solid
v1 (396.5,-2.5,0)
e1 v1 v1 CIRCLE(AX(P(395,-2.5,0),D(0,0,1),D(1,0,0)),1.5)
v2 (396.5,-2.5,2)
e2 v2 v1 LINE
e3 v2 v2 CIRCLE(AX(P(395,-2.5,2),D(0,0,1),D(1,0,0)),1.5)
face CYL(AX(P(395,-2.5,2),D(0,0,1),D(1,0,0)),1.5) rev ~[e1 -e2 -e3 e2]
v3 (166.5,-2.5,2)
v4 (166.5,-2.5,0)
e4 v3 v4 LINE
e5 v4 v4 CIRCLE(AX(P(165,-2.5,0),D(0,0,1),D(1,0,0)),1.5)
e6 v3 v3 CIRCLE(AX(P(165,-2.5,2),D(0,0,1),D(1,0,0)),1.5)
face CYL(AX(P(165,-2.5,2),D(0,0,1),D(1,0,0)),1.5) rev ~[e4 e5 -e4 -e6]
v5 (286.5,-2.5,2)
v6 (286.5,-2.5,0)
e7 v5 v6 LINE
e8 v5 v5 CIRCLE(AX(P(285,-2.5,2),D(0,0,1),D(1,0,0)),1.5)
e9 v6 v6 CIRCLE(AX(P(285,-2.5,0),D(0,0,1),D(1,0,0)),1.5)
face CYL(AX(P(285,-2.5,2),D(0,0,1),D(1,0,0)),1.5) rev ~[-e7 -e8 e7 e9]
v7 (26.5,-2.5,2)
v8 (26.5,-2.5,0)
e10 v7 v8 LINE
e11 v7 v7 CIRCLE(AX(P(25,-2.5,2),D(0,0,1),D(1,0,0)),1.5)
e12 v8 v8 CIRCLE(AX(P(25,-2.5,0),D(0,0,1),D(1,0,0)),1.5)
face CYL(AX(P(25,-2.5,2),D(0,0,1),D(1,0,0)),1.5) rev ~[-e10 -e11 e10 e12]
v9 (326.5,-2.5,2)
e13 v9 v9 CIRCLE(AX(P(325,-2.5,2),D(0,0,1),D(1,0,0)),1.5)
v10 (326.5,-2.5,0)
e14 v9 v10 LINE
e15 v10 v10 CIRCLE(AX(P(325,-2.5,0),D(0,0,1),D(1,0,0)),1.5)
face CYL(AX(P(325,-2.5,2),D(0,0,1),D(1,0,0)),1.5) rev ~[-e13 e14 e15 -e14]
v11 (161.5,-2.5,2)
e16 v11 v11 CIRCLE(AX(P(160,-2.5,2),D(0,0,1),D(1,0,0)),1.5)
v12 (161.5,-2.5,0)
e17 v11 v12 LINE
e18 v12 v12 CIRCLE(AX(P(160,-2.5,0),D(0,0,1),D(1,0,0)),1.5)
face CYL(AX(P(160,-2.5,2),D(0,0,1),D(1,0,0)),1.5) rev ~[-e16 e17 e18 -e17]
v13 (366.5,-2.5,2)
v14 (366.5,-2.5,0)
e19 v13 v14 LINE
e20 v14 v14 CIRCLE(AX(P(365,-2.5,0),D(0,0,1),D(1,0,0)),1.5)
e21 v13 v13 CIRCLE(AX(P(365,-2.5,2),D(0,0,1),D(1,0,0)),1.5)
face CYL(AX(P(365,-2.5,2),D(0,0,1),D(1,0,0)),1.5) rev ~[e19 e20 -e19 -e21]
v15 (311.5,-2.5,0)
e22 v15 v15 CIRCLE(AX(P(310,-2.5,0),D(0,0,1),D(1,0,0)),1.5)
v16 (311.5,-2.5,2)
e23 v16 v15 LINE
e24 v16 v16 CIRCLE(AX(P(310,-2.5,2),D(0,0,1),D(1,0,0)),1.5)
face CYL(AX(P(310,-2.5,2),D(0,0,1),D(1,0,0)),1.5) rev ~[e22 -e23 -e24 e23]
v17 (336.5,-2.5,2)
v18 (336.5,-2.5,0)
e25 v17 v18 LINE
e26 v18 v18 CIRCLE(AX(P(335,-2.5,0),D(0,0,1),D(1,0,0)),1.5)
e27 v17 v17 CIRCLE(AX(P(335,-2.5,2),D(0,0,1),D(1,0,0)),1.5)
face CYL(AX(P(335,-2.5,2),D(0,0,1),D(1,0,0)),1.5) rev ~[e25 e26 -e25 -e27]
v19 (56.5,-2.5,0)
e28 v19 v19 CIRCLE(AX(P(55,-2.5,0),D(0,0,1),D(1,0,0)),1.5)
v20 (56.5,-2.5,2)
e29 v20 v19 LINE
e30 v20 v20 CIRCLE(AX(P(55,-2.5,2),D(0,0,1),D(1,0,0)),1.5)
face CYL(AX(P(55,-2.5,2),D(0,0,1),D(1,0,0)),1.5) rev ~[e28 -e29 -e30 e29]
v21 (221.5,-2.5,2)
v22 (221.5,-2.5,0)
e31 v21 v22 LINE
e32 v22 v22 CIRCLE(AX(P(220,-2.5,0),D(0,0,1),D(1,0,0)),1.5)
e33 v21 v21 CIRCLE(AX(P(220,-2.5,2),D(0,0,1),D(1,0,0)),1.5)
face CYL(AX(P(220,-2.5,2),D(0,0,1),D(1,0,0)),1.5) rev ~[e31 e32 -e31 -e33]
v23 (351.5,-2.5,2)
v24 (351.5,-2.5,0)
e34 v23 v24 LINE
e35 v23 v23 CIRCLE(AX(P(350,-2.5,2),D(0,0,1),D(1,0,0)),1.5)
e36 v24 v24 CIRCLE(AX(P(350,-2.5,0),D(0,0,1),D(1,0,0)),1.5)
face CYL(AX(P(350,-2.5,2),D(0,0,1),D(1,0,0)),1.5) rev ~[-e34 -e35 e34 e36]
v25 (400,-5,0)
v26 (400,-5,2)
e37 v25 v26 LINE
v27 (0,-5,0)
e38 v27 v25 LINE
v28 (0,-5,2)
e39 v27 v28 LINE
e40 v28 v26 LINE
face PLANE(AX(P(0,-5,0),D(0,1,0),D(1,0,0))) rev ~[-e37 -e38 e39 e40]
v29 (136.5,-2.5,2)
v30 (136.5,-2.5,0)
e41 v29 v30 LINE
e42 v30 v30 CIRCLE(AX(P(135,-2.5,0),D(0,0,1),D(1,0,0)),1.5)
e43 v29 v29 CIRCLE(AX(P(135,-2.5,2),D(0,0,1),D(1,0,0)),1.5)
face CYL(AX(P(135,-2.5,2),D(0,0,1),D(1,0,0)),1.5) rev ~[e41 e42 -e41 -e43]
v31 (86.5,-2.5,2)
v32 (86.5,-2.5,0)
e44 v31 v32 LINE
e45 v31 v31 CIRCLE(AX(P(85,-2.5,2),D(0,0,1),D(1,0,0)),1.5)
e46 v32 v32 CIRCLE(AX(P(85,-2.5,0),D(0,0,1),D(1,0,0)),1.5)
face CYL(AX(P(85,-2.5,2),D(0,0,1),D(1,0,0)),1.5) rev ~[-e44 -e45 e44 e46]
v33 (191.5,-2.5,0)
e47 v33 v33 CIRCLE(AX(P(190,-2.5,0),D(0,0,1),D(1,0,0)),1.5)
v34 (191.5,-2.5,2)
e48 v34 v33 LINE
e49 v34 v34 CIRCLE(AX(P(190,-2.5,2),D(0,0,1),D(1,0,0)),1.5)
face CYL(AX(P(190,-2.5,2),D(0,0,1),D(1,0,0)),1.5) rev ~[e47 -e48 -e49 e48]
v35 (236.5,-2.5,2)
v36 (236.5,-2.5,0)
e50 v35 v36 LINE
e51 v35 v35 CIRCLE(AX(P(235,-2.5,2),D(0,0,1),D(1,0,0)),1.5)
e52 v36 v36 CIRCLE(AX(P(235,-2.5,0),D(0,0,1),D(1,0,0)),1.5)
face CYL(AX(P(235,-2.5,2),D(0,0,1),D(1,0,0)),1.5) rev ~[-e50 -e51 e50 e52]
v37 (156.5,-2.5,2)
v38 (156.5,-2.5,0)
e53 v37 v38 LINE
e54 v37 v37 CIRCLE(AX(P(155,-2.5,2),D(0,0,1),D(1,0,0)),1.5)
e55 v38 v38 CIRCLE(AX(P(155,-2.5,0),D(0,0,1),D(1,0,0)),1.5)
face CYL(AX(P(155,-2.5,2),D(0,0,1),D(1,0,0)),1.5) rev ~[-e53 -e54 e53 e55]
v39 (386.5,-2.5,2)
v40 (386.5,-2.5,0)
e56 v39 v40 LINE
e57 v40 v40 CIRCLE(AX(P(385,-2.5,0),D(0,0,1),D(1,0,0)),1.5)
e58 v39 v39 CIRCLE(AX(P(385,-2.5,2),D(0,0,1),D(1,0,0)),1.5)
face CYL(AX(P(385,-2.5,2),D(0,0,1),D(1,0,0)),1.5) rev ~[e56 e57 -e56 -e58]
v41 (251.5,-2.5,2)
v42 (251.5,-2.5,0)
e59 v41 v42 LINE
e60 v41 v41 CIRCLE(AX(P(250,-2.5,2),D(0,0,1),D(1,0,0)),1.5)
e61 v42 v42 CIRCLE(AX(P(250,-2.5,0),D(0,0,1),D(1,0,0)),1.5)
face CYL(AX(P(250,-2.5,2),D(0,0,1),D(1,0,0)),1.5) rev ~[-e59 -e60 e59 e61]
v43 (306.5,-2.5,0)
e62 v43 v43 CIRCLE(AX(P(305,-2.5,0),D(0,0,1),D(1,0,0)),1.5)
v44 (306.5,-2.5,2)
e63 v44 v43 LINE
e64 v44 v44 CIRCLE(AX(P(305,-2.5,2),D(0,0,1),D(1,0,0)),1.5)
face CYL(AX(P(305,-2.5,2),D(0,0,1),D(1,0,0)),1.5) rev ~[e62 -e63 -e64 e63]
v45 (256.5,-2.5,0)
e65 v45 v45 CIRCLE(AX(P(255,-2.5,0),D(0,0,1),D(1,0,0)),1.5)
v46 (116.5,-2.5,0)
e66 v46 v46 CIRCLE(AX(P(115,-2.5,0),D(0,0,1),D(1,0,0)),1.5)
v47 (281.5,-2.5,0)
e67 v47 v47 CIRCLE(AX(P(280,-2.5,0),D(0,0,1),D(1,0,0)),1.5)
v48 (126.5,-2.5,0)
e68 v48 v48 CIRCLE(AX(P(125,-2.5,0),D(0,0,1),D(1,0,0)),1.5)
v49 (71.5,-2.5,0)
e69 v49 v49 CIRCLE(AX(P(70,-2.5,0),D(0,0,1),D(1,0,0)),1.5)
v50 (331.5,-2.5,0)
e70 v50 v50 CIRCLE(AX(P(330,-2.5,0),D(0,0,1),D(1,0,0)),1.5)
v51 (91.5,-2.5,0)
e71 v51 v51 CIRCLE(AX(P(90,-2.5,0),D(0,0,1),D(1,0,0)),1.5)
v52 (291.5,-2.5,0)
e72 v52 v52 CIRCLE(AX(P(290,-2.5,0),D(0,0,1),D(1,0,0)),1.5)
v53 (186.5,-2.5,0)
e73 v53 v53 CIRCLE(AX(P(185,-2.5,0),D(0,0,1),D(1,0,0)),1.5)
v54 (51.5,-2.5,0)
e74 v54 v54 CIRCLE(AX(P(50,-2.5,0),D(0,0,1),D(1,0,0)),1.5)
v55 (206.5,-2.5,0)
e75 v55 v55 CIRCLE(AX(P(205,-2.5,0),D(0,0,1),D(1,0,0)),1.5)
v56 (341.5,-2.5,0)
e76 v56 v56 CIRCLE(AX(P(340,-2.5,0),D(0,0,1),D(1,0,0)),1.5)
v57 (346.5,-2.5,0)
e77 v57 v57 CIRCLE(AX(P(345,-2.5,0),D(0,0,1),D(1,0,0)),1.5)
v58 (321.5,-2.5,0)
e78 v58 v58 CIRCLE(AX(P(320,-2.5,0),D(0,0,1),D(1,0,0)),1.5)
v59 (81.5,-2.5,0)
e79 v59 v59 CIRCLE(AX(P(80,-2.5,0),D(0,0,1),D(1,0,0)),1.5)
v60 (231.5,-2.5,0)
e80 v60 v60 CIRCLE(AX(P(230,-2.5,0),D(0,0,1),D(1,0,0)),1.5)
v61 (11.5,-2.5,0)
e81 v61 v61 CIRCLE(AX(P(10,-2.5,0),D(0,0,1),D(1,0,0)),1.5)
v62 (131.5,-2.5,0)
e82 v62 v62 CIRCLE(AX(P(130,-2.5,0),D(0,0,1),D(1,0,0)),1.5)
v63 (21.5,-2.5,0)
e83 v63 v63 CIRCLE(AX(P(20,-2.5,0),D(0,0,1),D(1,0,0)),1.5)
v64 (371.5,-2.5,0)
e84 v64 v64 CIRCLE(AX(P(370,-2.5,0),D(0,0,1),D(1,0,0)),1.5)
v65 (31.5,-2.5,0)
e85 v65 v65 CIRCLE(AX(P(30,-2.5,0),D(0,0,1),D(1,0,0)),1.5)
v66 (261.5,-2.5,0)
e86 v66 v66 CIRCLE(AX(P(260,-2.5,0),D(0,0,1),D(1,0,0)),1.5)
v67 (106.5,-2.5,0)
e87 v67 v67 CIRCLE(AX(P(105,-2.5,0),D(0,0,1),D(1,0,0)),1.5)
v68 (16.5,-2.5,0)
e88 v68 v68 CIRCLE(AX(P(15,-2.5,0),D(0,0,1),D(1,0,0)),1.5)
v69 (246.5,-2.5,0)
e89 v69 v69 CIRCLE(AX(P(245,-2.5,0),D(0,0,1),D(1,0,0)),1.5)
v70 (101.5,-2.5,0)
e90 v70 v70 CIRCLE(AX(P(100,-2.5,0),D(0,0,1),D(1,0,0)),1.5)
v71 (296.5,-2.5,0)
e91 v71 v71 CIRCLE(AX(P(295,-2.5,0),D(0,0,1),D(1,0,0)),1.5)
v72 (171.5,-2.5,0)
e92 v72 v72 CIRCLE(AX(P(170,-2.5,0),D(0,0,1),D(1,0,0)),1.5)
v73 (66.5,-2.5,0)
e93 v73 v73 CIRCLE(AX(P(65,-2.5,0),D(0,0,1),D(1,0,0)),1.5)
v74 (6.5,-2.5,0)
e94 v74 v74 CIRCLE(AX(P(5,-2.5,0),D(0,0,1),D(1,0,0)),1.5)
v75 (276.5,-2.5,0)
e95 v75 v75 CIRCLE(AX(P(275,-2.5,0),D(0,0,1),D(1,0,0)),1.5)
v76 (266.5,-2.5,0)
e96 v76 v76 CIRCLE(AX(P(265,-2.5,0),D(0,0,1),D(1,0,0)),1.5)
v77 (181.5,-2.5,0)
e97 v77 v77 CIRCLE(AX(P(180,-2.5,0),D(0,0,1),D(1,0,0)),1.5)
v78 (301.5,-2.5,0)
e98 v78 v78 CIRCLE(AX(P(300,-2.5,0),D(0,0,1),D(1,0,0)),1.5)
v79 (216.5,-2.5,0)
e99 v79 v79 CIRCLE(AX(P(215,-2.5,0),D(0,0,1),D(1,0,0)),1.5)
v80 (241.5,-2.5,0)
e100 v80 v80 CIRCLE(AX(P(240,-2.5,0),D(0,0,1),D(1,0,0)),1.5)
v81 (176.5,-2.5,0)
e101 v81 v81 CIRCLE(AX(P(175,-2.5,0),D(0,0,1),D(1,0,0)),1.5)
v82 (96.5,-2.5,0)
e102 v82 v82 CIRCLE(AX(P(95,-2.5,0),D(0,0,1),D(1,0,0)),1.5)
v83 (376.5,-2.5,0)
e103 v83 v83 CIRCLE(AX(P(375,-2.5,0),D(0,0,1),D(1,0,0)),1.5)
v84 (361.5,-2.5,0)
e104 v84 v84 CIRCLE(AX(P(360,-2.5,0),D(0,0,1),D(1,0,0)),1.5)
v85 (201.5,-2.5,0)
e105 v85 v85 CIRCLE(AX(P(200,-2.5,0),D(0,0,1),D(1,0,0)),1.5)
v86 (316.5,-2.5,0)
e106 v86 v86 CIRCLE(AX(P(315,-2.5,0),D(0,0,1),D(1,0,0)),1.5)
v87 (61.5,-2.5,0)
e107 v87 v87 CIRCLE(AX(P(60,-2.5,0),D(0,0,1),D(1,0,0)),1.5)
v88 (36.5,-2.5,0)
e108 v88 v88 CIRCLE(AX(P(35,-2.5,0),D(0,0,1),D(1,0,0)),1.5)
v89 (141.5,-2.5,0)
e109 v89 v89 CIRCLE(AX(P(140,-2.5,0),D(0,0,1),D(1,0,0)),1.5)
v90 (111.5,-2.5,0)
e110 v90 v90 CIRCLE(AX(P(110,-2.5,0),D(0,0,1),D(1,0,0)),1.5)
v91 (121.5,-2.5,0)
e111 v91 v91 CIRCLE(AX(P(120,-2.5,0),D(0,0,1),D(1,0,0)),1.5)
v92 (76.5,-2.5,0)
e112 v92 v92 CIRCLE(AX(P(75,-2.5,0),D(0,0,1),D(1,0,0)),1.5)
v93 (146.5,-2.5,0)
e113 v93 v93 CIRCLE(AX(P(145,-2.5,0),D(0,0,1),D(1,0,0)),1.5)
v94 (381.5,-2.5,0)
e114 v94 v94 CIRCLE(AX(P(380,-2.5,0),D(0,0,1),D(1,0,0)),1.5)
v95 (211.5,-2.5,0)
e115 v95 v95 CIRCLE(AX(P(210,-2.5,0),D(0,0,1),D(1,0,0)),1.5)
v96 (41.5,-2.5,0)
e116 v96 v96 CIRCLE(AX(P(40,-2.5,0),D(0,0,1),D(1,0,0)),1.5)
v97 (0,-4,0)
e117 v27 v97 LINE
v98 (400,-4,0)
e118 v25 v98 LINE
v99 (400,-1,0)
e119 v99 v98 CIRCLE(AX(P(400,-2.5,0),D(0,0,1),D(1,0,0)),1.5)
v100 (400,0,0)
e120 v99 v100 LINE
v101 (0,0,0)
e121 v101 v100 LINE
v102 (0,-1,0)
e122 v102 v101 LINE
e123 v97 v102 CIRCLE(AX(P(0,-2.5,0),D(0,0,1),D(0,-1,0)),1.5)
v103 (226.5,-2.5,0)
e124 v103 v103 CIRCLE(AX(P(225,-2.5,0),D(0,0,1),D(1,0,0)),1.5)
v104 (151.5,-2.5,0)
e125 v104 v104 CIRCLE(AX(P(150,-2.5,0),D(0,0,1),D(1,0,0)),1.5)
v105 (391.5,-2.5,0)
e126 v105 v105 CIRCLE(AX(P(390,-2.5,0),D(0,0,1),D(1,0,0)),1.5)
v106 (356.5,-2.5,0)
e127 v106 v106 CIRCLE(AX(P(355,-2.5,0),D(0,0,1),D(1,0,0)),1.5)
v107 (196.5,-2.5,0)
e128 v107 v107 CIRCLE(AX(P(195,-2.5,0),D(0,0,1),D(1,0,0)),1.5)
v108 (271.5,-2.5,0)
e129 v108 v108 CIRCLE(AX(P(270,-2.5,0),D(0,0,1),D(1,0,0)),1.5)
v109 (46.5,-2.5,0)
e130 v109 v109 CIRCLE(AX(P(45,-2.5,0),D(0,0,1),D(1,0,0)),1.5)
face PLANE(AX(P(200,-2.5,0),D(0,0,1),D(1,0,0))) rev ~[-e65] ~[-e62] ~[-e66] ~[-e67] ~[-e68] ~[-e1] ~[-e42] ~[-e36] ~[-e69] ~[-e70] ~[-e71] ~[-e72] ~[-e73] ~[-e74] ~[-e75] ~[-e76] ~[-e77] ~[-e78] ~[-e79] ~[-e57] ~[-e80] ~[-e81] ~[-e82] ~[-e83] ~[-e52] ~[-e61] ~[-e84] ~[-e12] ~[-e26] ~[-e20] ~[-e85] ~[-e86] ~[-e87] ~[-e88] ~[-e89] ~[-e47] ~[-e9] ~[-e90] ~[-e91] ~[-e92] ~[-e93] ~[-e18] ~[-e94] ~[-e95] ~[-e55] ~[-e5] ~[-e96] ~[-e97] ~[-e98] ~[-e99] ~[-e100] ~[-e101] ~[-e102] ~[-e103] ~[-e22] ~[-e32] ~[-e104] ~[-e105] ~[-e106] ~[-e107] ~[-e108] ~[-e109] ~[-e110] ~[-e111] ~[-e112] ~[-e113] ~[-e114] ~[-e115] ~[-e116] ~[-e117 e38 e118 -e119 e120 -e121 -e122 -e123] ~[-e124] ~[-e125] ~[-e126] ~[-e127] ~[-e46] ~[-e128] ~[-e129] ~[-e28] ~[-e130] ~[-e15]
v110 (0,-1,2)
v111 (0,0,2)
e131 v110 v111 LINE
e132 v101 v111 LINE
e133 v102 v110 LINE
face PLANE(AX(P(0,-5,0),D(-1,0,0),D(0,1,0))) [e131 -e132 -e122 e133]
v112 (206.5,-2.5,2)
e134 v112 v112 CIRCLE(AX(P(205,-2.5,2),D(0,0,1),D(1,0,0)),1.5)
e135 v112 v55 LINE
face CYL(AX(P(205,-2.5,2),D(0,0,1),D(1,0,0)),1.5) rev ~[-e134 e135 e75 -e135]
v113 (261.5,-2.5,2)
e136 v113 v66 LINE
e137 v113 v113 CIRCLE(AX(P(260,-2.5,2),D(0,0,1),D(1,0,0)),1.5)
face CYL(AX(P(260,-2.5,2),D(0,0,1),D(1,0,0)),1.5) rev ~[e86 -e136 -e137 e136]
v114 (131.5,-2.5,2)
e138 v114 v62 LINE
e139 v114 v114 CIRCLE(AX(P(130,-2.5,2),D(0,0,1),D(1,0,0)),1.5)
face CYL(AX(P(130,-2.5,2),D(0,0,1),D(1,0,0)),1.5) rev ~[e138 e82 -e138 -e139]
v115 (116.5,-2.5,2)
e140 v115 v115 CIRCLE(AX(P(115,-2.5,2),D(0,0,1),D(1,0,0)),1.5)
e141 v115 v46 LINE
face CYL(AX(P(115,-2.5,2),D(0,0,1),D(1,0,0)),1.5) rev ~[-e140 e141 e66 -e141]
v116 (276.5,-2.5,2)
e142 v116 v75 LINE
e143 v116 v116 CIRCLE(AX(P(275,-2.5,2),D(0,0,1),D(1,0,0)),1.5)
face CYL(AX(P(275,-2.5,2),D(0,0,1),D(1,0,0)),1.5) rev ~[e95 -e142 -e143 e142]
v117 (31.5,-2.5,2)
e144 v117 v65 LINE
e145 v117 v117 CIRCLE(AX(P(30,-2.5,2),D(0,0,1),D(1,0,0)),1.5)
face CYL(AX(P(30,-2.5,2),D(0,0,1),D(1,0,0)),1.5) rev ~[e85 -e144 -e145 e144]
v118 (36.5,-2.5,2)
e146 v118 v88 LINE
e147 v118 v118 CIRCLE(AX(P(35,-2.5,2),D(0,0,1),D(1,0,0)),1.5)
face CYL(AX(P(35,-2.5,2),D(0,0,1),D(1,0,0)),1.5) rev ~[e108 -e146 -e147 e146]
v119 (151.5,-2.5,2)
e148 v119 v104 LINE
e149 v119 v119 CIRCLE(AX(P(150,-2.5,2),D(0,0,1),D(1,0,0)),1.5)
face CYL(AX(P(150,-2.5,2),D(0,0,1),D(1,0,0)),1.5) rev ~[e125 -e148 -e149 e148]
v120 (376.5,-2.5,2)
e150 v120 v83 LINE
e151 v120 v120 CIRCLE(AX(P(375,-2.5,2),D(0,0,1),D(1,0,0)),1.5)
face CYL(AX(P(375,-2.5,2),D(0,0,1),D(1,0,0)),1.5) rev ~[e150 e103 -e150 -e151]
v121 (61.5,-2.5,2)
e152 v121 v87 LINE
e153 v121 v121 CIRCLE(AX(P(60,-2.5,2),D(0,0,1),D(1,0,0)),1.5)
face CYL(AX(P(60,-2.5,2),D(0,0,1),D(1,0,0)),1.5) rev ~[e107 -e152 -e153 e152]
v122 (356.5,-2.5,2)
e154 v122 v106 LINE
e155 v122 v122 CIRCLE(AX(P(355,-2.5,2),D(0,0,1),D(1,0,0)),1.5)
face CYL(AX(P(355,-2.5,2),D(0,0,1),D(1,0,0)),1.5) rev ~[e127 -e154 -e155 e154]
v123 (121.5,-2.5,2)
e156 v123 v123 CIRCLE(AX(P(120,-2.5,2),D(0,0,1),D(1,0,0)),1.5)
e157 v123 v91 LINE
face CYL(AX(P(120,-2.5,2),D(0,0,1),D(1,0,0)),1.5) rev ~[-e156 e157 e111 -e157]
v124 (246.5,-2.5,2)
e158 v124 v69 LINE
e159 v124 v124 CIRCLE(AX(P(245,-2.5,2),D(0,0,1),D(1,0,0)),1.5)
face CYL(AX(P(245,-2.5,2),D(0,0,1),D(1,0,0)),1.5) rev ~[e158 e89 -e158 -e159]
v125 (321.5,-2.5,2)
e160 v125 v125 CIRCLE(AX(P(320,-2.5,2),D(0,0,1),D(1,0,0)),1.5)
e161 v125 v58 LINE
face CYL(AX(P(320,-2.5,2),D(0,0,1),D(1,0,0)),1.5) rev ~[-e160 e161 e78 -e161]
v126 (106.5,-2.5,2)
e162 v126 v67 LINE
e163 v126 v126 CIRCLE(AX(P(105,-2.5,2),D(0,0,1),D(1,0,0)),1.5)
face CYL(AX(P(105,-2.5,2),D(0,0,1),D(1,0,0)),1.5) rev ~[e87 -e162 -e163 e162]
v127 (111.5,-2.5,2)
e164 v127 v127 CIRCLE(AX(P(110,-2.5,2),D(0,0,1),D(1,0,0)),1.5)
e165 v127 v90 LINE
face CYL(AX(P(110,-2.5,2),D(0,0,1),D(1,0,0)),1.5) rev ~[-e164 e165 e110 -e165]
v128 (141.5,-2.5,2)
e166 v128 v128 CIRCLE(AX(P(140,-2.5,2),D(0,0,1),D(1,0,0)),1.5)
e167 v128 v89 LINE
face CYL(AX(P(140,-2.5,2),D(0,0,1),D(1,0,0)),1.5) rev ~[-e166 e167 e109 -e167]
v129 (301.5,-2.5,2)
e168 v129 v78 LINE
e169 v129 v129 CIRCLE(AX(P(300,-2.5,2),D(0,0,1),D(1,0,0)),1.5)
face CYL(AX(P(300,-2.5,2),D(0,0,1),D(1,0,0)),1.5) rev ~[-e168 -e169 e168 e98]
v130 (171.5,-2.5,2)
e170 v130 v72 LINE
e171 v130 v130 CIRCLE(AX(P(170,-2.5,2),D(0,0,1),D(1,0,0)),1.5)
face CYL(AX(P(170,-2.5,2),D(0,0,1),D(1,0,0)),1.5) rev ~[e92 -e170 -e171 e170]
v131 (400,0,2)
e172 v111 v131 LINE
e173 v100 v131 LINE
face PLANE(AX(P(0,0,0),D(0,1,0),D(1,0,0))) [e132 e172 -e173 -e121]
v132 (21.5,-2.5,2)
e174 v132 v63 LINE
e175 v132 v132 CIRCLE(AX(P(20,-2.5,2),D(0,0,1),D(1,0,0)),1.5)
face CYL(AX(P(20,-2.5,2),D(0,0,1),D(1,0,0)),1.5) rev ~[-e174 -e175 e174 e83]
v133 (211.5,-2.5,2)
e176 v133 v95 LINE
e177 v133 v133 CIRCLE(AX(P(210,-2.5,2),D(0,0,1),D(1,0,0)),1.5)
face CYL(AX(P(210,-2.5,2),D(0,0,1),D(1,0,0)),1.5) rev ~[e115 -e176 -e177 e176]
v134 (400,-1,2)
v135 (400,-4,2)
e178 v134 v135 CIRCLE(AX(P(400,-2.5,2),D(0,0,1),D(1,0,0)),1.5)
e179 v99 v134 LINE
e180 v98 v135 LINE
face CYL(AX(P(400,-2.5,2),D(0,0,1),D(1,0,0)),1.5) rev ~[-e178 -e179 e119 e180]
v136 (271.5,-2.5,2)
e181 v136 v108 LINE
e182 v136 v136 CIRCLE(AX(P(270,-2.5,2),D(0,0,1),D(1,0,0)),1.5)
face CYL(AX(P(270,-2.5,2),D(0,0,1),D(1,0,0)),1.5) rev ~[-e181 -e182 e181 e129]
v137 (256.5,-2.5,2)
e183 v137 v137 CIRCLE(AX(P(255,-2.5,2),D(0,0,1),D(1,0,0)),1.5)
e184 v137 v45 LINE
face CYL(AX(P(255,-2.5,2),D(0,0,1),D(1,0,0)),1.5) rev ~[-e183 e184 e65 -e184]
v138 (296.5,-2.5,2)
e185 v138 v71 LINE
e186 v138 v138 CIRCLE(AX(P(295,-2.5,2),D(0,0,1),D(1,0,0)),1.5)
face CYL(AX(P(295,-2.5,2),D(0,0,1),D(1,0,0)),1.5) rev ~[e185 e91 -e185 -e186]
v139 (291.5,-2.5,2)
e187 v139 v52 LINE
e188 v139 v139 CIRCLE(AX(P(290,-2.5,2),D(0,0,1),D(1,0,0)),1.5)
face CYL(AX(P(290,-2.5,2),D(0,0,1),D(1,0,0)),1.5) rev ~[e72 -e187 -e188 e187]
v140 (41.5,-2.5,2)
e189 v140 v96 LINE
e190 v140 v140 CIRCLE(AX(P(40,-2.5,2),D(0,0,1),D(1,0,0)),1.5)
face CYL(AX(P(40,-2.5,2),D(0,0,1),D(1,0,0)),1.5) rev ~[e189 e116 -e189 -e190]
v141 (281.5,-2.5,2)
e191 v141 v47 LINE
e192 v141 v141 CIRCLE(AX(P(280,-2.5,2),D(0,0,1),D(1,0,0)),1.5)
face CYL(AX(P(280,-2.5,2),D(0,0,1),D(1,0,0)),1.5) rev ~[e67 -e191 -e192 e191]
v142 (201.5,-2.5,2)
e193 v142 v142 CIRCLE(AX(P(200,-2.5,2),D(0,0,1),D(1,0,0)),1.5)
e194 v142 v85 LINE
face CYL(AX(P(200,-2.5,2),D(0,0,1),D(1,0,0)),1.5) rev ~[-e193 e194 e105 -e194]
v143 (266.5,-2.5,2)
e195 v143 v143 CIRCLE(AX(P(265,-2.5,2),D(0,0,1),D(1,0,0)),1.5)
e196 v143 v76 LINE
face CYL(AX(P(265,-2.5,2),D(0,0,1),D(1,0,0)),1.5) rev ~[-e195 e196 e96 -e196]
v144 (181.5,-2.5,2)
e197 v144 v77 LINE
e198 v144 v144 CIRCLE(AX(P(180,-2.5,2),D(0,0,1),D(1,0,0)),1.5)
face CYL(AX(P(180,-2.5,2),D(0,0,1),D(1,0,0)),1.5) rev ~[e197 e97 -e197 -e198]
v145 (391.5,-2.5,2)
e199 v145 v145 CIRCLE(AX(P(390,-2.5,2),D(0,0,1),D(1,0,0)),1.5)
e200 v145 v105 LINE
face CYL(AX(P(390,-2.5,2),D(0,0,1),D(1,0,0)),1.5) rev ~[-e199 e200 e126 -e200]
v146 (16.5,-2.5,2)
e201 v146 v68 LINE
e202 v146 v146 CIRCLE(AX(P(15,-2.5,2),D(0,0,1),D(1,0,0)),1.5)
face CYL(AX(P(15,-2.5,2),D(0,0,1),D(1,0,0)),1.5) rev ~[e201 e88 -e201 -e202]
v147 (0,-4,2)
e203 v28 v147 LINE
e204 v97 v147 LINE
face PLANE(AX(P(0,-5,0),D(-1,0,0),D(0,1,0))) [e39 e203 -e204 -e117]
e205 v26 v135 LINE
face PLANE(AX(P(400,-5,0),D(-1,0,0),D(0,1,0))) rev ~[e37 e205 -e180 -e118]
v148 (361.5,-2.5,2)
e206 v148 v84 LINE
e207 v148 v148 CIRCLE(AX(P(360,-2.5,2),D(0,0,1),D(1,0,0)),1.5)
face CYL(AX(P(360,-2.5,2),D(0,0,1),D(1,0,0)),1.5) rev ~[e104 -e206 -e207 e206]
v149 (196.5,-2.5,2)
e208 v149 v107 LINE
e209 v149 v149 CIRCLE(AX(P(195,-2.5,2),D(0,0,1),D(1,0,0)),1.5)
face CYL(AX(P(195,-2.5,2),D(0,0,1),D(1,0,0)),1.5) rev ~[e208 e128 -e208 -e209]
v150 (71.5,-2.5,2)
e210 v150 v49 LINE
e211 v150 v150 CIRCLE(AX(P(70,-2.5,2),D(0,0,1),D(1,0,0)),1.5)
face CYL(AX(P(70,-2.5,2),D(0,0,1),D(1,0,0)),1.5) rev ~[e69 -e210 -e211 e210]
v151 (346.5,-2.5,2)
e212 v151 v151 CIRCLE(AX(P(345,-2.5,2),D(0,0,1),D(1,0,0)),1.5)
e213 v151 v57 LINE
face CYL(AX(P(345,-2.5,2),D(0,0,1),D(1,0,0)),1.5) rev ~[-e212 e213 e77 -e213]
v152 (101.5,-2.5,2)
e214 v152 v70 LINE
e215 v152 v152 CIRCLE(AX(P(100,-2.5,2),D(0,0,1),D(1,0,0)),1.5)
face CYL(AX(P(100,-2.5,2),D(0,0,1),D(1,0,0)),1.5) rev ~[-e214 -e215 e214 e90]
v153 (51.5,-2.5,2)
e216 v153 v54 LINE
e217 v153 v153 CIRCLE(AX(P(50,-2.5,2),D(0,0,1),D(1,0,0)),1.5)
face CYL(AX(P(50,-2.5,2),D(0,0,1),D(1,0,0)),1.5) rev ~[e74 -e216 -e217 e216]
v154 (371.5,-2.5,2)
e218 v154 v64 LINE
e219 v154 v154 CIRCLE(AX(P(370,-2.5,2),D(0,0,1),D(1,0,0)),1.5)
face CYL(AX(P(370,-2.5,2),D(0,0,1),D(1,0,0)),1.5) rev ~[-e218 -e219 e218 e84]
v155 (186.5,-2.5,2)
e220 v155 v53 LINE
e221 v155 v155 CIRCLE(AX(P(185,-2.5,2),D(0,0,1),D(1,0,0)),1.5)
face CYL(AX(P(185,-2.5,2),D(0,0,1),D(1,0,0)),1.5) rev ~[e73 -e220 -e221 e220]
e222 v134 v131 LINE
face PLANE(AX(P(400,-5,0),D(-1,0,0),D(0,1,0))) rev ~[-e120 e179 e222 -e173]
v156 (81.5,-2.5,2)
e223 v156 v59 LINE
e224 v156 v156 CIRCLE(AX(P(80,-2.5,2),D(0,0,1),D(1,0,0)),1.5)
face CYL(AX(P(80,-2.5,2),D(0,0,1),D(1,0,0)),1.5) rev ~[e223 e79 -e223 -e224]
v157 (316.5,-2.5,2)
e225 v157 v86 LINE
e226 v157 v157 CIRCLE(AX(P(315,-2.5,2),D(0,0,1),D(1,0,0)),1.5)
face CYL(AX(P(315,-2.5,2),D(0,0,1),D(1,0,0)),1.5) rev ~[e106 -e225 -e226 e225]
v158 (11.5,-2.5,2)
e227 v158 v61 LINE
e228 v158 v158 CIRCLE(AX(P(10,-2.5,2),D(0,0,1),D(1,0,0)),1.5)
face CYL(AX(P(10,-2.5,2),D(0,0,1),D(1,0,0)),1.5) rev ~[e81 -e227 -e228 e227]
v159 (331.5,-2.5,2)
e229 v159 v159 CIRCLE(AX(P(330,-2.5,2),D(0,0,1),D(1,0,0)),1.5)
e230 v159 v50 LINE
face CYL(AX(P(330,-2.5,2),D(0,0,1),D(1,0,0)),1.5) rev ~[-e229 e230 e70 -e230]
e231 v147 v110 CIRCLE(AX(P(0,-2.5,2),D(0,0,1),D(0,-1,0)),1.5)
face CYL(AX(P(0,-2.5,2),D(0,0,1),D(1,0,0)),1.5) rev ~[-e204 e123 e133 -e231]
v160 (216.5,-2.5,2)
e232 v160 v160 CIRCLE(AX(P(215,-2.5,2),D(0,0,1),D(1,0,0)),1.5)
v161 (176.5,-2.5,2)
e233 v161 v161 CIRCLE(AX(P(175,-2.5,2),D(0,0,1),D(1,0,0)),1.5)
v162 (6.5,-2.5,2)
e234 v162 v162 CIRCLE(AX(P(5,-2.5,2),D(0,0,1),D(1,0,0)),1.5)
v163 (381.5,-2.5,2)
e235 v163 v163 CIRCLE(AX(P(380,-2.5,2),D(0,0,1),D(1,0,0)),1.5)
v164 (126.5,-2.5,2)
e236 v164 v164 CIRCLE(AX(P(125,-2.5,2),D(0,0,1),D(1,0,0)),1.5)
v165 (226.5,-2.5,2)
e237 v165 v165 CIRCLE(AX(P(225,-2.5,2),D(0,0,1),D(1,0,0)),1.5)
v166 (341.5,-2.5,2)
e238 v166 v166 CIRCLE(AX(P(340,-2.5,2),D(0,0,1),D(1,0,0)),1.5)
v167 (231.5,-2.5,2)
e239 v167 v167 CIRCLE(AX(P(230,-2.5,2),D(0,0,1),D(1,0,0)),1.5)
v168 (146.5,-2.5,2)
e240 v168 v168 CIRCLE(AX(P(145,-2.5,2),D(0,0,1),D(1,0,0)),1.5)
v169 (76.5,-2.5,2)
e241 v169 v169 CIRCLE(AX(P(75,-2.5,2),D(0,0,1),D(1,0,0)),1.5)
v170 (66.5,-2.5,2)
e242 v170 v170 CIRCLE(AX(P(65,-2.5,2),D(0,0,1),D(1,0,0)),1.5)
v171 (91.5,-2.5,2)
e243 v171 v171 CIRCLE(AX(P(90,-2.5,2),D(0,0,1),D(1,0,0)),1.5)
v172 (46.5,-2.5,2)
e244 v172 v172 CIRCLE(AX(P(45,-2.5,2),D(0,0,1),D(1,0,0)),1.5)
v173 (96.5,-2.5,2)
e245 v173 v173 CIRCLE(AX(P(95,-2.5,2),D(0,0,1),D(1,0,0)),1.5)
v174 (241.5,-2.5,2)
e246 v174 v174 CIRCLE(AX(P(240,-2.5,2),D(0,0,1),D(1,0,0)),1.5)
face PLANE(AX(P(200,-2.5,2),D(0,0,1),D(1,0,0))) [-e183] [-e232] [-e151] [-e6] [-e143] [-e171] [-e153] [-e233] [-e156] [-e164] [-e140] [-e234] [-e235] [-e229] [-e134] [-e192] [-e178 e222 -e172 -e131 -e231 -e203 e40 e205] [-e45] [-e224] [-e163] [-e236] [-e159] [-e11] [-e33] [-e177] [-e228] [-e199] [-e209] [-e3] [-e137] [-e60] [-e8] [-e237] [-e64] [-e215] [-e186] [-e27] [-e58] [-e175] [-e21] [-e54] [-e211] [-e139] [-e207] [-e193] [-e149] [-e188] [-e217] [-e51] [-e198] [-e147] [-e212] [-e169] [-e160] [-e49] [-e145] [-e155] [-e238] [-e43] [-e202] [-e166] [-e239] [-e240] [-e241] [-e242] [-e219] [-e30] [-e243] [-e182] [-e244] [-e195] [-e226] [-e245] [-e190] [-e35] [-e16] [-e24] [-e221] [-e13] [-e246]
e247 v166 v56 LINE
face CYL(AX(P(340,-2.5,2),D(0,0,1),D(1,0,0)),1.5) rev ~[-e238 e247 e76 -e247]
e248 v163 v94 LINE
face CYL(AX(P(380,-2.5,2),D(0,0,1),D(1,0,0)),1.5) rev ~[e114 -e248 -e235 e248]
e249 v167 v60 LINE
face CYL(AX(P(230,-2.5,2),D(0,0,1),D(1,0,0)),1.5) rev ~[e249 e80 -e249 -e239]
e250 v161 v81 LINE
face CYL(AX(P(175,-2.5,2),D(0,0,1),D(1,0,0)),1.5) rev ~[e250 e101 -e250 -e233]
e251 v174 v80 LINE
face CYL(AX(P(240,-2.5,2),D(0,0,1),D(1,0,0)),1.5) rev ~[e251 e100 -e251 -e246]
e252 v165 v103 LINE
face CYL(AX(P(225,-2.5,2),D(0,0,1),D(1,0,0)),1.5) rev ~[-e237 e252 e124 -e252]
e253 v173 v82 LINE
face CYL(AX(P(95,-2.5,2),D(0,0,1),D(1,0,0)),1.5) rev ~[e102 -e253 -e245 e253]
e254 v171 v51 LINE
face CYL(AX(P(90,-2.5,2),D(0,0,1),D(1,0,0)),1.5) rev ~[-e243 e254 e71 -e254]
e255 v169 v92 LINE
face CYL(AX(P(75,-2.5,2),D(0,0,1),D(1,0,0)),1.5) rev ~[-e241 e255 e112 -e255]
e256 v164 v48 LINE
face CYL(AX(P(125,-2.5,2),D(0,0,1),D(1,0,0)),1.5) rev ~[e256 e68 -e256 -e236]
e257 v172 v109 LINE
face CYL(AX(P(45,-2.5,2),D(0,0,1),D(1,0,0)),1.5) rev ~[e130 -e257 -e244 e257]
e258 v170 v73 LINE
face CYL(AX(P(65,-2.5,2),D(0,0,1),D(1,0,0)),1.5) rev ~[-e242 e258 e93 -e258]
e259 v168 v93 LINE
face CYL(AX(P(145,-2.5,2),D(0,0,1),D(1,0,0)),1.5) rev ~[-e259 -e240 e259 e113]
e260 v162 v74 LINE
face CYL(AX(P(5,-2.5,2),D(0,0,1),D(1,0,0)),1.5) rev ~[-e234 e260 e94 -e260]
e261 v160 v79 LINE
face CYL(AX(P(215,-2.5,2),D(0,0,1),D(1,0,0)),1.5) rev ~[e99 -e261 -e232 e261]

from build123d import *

# Parameters (mm, degrees)
SKETCH_1_W             = 400
SKETCH_1_H             = 5
EXTRUDE_1_DEPTH        = 2
SKETCH_2_R             = 1.5
CUT_EXTRUDE_1_DEPTH    = 401.036248358
PATTERN_LINEAR_1_COUNT = 41
PATTERN_LINEAR_1_PITCH = 5
PATTERN_LINEAR_2_COUNT = 41
PATTERN_LINEAR_2_PITCH = 5


with BuildPart() as part:
    # 草图1 → 凸台-拉伸1 (new body)
    with BuildSketch(Plane.XY):
        with Locations((200, -2.5)):
            Rectangle(SKETCH_1_W, SKETCH_1_H)
    extrude(amount=EXTRUDE_1_DEPTH)

    # 草图2 → 切除-拉伸1 (cut, through all)
    with BuildSketch(Plane.XY.offset(2)):
        with Locations((200, -2.5)):
            Circle(SKETCH_2_R)
    cut_extrude_1 = extrude(amount=-CUT_EXTRUDE_1_DEPTH, mode=Mode.SUBTRACT)

    # 阵列(线性)1: 切除-拉伸1 ×41
    with Locations(*[(i * PATTERN_LINEAR_1_PITCH, 0, 0) for i in range(1, PATTERN_LINEAR_1_COUNT)]):
        add(cut_extrude_1, mode=Mode.SUBTRACT)

    # 阵列(线性)2: 切除-拉伸1 ×41
    with Locations(*[(-i * PATTERN_LINEAR_2_PITCH, 0, 0) for i in range(1, PATTERN_LINEAR_2_COUNT)]):
        add(cut_extrude_1, mode=Mode.SUBTRACT)


solid = part.part
